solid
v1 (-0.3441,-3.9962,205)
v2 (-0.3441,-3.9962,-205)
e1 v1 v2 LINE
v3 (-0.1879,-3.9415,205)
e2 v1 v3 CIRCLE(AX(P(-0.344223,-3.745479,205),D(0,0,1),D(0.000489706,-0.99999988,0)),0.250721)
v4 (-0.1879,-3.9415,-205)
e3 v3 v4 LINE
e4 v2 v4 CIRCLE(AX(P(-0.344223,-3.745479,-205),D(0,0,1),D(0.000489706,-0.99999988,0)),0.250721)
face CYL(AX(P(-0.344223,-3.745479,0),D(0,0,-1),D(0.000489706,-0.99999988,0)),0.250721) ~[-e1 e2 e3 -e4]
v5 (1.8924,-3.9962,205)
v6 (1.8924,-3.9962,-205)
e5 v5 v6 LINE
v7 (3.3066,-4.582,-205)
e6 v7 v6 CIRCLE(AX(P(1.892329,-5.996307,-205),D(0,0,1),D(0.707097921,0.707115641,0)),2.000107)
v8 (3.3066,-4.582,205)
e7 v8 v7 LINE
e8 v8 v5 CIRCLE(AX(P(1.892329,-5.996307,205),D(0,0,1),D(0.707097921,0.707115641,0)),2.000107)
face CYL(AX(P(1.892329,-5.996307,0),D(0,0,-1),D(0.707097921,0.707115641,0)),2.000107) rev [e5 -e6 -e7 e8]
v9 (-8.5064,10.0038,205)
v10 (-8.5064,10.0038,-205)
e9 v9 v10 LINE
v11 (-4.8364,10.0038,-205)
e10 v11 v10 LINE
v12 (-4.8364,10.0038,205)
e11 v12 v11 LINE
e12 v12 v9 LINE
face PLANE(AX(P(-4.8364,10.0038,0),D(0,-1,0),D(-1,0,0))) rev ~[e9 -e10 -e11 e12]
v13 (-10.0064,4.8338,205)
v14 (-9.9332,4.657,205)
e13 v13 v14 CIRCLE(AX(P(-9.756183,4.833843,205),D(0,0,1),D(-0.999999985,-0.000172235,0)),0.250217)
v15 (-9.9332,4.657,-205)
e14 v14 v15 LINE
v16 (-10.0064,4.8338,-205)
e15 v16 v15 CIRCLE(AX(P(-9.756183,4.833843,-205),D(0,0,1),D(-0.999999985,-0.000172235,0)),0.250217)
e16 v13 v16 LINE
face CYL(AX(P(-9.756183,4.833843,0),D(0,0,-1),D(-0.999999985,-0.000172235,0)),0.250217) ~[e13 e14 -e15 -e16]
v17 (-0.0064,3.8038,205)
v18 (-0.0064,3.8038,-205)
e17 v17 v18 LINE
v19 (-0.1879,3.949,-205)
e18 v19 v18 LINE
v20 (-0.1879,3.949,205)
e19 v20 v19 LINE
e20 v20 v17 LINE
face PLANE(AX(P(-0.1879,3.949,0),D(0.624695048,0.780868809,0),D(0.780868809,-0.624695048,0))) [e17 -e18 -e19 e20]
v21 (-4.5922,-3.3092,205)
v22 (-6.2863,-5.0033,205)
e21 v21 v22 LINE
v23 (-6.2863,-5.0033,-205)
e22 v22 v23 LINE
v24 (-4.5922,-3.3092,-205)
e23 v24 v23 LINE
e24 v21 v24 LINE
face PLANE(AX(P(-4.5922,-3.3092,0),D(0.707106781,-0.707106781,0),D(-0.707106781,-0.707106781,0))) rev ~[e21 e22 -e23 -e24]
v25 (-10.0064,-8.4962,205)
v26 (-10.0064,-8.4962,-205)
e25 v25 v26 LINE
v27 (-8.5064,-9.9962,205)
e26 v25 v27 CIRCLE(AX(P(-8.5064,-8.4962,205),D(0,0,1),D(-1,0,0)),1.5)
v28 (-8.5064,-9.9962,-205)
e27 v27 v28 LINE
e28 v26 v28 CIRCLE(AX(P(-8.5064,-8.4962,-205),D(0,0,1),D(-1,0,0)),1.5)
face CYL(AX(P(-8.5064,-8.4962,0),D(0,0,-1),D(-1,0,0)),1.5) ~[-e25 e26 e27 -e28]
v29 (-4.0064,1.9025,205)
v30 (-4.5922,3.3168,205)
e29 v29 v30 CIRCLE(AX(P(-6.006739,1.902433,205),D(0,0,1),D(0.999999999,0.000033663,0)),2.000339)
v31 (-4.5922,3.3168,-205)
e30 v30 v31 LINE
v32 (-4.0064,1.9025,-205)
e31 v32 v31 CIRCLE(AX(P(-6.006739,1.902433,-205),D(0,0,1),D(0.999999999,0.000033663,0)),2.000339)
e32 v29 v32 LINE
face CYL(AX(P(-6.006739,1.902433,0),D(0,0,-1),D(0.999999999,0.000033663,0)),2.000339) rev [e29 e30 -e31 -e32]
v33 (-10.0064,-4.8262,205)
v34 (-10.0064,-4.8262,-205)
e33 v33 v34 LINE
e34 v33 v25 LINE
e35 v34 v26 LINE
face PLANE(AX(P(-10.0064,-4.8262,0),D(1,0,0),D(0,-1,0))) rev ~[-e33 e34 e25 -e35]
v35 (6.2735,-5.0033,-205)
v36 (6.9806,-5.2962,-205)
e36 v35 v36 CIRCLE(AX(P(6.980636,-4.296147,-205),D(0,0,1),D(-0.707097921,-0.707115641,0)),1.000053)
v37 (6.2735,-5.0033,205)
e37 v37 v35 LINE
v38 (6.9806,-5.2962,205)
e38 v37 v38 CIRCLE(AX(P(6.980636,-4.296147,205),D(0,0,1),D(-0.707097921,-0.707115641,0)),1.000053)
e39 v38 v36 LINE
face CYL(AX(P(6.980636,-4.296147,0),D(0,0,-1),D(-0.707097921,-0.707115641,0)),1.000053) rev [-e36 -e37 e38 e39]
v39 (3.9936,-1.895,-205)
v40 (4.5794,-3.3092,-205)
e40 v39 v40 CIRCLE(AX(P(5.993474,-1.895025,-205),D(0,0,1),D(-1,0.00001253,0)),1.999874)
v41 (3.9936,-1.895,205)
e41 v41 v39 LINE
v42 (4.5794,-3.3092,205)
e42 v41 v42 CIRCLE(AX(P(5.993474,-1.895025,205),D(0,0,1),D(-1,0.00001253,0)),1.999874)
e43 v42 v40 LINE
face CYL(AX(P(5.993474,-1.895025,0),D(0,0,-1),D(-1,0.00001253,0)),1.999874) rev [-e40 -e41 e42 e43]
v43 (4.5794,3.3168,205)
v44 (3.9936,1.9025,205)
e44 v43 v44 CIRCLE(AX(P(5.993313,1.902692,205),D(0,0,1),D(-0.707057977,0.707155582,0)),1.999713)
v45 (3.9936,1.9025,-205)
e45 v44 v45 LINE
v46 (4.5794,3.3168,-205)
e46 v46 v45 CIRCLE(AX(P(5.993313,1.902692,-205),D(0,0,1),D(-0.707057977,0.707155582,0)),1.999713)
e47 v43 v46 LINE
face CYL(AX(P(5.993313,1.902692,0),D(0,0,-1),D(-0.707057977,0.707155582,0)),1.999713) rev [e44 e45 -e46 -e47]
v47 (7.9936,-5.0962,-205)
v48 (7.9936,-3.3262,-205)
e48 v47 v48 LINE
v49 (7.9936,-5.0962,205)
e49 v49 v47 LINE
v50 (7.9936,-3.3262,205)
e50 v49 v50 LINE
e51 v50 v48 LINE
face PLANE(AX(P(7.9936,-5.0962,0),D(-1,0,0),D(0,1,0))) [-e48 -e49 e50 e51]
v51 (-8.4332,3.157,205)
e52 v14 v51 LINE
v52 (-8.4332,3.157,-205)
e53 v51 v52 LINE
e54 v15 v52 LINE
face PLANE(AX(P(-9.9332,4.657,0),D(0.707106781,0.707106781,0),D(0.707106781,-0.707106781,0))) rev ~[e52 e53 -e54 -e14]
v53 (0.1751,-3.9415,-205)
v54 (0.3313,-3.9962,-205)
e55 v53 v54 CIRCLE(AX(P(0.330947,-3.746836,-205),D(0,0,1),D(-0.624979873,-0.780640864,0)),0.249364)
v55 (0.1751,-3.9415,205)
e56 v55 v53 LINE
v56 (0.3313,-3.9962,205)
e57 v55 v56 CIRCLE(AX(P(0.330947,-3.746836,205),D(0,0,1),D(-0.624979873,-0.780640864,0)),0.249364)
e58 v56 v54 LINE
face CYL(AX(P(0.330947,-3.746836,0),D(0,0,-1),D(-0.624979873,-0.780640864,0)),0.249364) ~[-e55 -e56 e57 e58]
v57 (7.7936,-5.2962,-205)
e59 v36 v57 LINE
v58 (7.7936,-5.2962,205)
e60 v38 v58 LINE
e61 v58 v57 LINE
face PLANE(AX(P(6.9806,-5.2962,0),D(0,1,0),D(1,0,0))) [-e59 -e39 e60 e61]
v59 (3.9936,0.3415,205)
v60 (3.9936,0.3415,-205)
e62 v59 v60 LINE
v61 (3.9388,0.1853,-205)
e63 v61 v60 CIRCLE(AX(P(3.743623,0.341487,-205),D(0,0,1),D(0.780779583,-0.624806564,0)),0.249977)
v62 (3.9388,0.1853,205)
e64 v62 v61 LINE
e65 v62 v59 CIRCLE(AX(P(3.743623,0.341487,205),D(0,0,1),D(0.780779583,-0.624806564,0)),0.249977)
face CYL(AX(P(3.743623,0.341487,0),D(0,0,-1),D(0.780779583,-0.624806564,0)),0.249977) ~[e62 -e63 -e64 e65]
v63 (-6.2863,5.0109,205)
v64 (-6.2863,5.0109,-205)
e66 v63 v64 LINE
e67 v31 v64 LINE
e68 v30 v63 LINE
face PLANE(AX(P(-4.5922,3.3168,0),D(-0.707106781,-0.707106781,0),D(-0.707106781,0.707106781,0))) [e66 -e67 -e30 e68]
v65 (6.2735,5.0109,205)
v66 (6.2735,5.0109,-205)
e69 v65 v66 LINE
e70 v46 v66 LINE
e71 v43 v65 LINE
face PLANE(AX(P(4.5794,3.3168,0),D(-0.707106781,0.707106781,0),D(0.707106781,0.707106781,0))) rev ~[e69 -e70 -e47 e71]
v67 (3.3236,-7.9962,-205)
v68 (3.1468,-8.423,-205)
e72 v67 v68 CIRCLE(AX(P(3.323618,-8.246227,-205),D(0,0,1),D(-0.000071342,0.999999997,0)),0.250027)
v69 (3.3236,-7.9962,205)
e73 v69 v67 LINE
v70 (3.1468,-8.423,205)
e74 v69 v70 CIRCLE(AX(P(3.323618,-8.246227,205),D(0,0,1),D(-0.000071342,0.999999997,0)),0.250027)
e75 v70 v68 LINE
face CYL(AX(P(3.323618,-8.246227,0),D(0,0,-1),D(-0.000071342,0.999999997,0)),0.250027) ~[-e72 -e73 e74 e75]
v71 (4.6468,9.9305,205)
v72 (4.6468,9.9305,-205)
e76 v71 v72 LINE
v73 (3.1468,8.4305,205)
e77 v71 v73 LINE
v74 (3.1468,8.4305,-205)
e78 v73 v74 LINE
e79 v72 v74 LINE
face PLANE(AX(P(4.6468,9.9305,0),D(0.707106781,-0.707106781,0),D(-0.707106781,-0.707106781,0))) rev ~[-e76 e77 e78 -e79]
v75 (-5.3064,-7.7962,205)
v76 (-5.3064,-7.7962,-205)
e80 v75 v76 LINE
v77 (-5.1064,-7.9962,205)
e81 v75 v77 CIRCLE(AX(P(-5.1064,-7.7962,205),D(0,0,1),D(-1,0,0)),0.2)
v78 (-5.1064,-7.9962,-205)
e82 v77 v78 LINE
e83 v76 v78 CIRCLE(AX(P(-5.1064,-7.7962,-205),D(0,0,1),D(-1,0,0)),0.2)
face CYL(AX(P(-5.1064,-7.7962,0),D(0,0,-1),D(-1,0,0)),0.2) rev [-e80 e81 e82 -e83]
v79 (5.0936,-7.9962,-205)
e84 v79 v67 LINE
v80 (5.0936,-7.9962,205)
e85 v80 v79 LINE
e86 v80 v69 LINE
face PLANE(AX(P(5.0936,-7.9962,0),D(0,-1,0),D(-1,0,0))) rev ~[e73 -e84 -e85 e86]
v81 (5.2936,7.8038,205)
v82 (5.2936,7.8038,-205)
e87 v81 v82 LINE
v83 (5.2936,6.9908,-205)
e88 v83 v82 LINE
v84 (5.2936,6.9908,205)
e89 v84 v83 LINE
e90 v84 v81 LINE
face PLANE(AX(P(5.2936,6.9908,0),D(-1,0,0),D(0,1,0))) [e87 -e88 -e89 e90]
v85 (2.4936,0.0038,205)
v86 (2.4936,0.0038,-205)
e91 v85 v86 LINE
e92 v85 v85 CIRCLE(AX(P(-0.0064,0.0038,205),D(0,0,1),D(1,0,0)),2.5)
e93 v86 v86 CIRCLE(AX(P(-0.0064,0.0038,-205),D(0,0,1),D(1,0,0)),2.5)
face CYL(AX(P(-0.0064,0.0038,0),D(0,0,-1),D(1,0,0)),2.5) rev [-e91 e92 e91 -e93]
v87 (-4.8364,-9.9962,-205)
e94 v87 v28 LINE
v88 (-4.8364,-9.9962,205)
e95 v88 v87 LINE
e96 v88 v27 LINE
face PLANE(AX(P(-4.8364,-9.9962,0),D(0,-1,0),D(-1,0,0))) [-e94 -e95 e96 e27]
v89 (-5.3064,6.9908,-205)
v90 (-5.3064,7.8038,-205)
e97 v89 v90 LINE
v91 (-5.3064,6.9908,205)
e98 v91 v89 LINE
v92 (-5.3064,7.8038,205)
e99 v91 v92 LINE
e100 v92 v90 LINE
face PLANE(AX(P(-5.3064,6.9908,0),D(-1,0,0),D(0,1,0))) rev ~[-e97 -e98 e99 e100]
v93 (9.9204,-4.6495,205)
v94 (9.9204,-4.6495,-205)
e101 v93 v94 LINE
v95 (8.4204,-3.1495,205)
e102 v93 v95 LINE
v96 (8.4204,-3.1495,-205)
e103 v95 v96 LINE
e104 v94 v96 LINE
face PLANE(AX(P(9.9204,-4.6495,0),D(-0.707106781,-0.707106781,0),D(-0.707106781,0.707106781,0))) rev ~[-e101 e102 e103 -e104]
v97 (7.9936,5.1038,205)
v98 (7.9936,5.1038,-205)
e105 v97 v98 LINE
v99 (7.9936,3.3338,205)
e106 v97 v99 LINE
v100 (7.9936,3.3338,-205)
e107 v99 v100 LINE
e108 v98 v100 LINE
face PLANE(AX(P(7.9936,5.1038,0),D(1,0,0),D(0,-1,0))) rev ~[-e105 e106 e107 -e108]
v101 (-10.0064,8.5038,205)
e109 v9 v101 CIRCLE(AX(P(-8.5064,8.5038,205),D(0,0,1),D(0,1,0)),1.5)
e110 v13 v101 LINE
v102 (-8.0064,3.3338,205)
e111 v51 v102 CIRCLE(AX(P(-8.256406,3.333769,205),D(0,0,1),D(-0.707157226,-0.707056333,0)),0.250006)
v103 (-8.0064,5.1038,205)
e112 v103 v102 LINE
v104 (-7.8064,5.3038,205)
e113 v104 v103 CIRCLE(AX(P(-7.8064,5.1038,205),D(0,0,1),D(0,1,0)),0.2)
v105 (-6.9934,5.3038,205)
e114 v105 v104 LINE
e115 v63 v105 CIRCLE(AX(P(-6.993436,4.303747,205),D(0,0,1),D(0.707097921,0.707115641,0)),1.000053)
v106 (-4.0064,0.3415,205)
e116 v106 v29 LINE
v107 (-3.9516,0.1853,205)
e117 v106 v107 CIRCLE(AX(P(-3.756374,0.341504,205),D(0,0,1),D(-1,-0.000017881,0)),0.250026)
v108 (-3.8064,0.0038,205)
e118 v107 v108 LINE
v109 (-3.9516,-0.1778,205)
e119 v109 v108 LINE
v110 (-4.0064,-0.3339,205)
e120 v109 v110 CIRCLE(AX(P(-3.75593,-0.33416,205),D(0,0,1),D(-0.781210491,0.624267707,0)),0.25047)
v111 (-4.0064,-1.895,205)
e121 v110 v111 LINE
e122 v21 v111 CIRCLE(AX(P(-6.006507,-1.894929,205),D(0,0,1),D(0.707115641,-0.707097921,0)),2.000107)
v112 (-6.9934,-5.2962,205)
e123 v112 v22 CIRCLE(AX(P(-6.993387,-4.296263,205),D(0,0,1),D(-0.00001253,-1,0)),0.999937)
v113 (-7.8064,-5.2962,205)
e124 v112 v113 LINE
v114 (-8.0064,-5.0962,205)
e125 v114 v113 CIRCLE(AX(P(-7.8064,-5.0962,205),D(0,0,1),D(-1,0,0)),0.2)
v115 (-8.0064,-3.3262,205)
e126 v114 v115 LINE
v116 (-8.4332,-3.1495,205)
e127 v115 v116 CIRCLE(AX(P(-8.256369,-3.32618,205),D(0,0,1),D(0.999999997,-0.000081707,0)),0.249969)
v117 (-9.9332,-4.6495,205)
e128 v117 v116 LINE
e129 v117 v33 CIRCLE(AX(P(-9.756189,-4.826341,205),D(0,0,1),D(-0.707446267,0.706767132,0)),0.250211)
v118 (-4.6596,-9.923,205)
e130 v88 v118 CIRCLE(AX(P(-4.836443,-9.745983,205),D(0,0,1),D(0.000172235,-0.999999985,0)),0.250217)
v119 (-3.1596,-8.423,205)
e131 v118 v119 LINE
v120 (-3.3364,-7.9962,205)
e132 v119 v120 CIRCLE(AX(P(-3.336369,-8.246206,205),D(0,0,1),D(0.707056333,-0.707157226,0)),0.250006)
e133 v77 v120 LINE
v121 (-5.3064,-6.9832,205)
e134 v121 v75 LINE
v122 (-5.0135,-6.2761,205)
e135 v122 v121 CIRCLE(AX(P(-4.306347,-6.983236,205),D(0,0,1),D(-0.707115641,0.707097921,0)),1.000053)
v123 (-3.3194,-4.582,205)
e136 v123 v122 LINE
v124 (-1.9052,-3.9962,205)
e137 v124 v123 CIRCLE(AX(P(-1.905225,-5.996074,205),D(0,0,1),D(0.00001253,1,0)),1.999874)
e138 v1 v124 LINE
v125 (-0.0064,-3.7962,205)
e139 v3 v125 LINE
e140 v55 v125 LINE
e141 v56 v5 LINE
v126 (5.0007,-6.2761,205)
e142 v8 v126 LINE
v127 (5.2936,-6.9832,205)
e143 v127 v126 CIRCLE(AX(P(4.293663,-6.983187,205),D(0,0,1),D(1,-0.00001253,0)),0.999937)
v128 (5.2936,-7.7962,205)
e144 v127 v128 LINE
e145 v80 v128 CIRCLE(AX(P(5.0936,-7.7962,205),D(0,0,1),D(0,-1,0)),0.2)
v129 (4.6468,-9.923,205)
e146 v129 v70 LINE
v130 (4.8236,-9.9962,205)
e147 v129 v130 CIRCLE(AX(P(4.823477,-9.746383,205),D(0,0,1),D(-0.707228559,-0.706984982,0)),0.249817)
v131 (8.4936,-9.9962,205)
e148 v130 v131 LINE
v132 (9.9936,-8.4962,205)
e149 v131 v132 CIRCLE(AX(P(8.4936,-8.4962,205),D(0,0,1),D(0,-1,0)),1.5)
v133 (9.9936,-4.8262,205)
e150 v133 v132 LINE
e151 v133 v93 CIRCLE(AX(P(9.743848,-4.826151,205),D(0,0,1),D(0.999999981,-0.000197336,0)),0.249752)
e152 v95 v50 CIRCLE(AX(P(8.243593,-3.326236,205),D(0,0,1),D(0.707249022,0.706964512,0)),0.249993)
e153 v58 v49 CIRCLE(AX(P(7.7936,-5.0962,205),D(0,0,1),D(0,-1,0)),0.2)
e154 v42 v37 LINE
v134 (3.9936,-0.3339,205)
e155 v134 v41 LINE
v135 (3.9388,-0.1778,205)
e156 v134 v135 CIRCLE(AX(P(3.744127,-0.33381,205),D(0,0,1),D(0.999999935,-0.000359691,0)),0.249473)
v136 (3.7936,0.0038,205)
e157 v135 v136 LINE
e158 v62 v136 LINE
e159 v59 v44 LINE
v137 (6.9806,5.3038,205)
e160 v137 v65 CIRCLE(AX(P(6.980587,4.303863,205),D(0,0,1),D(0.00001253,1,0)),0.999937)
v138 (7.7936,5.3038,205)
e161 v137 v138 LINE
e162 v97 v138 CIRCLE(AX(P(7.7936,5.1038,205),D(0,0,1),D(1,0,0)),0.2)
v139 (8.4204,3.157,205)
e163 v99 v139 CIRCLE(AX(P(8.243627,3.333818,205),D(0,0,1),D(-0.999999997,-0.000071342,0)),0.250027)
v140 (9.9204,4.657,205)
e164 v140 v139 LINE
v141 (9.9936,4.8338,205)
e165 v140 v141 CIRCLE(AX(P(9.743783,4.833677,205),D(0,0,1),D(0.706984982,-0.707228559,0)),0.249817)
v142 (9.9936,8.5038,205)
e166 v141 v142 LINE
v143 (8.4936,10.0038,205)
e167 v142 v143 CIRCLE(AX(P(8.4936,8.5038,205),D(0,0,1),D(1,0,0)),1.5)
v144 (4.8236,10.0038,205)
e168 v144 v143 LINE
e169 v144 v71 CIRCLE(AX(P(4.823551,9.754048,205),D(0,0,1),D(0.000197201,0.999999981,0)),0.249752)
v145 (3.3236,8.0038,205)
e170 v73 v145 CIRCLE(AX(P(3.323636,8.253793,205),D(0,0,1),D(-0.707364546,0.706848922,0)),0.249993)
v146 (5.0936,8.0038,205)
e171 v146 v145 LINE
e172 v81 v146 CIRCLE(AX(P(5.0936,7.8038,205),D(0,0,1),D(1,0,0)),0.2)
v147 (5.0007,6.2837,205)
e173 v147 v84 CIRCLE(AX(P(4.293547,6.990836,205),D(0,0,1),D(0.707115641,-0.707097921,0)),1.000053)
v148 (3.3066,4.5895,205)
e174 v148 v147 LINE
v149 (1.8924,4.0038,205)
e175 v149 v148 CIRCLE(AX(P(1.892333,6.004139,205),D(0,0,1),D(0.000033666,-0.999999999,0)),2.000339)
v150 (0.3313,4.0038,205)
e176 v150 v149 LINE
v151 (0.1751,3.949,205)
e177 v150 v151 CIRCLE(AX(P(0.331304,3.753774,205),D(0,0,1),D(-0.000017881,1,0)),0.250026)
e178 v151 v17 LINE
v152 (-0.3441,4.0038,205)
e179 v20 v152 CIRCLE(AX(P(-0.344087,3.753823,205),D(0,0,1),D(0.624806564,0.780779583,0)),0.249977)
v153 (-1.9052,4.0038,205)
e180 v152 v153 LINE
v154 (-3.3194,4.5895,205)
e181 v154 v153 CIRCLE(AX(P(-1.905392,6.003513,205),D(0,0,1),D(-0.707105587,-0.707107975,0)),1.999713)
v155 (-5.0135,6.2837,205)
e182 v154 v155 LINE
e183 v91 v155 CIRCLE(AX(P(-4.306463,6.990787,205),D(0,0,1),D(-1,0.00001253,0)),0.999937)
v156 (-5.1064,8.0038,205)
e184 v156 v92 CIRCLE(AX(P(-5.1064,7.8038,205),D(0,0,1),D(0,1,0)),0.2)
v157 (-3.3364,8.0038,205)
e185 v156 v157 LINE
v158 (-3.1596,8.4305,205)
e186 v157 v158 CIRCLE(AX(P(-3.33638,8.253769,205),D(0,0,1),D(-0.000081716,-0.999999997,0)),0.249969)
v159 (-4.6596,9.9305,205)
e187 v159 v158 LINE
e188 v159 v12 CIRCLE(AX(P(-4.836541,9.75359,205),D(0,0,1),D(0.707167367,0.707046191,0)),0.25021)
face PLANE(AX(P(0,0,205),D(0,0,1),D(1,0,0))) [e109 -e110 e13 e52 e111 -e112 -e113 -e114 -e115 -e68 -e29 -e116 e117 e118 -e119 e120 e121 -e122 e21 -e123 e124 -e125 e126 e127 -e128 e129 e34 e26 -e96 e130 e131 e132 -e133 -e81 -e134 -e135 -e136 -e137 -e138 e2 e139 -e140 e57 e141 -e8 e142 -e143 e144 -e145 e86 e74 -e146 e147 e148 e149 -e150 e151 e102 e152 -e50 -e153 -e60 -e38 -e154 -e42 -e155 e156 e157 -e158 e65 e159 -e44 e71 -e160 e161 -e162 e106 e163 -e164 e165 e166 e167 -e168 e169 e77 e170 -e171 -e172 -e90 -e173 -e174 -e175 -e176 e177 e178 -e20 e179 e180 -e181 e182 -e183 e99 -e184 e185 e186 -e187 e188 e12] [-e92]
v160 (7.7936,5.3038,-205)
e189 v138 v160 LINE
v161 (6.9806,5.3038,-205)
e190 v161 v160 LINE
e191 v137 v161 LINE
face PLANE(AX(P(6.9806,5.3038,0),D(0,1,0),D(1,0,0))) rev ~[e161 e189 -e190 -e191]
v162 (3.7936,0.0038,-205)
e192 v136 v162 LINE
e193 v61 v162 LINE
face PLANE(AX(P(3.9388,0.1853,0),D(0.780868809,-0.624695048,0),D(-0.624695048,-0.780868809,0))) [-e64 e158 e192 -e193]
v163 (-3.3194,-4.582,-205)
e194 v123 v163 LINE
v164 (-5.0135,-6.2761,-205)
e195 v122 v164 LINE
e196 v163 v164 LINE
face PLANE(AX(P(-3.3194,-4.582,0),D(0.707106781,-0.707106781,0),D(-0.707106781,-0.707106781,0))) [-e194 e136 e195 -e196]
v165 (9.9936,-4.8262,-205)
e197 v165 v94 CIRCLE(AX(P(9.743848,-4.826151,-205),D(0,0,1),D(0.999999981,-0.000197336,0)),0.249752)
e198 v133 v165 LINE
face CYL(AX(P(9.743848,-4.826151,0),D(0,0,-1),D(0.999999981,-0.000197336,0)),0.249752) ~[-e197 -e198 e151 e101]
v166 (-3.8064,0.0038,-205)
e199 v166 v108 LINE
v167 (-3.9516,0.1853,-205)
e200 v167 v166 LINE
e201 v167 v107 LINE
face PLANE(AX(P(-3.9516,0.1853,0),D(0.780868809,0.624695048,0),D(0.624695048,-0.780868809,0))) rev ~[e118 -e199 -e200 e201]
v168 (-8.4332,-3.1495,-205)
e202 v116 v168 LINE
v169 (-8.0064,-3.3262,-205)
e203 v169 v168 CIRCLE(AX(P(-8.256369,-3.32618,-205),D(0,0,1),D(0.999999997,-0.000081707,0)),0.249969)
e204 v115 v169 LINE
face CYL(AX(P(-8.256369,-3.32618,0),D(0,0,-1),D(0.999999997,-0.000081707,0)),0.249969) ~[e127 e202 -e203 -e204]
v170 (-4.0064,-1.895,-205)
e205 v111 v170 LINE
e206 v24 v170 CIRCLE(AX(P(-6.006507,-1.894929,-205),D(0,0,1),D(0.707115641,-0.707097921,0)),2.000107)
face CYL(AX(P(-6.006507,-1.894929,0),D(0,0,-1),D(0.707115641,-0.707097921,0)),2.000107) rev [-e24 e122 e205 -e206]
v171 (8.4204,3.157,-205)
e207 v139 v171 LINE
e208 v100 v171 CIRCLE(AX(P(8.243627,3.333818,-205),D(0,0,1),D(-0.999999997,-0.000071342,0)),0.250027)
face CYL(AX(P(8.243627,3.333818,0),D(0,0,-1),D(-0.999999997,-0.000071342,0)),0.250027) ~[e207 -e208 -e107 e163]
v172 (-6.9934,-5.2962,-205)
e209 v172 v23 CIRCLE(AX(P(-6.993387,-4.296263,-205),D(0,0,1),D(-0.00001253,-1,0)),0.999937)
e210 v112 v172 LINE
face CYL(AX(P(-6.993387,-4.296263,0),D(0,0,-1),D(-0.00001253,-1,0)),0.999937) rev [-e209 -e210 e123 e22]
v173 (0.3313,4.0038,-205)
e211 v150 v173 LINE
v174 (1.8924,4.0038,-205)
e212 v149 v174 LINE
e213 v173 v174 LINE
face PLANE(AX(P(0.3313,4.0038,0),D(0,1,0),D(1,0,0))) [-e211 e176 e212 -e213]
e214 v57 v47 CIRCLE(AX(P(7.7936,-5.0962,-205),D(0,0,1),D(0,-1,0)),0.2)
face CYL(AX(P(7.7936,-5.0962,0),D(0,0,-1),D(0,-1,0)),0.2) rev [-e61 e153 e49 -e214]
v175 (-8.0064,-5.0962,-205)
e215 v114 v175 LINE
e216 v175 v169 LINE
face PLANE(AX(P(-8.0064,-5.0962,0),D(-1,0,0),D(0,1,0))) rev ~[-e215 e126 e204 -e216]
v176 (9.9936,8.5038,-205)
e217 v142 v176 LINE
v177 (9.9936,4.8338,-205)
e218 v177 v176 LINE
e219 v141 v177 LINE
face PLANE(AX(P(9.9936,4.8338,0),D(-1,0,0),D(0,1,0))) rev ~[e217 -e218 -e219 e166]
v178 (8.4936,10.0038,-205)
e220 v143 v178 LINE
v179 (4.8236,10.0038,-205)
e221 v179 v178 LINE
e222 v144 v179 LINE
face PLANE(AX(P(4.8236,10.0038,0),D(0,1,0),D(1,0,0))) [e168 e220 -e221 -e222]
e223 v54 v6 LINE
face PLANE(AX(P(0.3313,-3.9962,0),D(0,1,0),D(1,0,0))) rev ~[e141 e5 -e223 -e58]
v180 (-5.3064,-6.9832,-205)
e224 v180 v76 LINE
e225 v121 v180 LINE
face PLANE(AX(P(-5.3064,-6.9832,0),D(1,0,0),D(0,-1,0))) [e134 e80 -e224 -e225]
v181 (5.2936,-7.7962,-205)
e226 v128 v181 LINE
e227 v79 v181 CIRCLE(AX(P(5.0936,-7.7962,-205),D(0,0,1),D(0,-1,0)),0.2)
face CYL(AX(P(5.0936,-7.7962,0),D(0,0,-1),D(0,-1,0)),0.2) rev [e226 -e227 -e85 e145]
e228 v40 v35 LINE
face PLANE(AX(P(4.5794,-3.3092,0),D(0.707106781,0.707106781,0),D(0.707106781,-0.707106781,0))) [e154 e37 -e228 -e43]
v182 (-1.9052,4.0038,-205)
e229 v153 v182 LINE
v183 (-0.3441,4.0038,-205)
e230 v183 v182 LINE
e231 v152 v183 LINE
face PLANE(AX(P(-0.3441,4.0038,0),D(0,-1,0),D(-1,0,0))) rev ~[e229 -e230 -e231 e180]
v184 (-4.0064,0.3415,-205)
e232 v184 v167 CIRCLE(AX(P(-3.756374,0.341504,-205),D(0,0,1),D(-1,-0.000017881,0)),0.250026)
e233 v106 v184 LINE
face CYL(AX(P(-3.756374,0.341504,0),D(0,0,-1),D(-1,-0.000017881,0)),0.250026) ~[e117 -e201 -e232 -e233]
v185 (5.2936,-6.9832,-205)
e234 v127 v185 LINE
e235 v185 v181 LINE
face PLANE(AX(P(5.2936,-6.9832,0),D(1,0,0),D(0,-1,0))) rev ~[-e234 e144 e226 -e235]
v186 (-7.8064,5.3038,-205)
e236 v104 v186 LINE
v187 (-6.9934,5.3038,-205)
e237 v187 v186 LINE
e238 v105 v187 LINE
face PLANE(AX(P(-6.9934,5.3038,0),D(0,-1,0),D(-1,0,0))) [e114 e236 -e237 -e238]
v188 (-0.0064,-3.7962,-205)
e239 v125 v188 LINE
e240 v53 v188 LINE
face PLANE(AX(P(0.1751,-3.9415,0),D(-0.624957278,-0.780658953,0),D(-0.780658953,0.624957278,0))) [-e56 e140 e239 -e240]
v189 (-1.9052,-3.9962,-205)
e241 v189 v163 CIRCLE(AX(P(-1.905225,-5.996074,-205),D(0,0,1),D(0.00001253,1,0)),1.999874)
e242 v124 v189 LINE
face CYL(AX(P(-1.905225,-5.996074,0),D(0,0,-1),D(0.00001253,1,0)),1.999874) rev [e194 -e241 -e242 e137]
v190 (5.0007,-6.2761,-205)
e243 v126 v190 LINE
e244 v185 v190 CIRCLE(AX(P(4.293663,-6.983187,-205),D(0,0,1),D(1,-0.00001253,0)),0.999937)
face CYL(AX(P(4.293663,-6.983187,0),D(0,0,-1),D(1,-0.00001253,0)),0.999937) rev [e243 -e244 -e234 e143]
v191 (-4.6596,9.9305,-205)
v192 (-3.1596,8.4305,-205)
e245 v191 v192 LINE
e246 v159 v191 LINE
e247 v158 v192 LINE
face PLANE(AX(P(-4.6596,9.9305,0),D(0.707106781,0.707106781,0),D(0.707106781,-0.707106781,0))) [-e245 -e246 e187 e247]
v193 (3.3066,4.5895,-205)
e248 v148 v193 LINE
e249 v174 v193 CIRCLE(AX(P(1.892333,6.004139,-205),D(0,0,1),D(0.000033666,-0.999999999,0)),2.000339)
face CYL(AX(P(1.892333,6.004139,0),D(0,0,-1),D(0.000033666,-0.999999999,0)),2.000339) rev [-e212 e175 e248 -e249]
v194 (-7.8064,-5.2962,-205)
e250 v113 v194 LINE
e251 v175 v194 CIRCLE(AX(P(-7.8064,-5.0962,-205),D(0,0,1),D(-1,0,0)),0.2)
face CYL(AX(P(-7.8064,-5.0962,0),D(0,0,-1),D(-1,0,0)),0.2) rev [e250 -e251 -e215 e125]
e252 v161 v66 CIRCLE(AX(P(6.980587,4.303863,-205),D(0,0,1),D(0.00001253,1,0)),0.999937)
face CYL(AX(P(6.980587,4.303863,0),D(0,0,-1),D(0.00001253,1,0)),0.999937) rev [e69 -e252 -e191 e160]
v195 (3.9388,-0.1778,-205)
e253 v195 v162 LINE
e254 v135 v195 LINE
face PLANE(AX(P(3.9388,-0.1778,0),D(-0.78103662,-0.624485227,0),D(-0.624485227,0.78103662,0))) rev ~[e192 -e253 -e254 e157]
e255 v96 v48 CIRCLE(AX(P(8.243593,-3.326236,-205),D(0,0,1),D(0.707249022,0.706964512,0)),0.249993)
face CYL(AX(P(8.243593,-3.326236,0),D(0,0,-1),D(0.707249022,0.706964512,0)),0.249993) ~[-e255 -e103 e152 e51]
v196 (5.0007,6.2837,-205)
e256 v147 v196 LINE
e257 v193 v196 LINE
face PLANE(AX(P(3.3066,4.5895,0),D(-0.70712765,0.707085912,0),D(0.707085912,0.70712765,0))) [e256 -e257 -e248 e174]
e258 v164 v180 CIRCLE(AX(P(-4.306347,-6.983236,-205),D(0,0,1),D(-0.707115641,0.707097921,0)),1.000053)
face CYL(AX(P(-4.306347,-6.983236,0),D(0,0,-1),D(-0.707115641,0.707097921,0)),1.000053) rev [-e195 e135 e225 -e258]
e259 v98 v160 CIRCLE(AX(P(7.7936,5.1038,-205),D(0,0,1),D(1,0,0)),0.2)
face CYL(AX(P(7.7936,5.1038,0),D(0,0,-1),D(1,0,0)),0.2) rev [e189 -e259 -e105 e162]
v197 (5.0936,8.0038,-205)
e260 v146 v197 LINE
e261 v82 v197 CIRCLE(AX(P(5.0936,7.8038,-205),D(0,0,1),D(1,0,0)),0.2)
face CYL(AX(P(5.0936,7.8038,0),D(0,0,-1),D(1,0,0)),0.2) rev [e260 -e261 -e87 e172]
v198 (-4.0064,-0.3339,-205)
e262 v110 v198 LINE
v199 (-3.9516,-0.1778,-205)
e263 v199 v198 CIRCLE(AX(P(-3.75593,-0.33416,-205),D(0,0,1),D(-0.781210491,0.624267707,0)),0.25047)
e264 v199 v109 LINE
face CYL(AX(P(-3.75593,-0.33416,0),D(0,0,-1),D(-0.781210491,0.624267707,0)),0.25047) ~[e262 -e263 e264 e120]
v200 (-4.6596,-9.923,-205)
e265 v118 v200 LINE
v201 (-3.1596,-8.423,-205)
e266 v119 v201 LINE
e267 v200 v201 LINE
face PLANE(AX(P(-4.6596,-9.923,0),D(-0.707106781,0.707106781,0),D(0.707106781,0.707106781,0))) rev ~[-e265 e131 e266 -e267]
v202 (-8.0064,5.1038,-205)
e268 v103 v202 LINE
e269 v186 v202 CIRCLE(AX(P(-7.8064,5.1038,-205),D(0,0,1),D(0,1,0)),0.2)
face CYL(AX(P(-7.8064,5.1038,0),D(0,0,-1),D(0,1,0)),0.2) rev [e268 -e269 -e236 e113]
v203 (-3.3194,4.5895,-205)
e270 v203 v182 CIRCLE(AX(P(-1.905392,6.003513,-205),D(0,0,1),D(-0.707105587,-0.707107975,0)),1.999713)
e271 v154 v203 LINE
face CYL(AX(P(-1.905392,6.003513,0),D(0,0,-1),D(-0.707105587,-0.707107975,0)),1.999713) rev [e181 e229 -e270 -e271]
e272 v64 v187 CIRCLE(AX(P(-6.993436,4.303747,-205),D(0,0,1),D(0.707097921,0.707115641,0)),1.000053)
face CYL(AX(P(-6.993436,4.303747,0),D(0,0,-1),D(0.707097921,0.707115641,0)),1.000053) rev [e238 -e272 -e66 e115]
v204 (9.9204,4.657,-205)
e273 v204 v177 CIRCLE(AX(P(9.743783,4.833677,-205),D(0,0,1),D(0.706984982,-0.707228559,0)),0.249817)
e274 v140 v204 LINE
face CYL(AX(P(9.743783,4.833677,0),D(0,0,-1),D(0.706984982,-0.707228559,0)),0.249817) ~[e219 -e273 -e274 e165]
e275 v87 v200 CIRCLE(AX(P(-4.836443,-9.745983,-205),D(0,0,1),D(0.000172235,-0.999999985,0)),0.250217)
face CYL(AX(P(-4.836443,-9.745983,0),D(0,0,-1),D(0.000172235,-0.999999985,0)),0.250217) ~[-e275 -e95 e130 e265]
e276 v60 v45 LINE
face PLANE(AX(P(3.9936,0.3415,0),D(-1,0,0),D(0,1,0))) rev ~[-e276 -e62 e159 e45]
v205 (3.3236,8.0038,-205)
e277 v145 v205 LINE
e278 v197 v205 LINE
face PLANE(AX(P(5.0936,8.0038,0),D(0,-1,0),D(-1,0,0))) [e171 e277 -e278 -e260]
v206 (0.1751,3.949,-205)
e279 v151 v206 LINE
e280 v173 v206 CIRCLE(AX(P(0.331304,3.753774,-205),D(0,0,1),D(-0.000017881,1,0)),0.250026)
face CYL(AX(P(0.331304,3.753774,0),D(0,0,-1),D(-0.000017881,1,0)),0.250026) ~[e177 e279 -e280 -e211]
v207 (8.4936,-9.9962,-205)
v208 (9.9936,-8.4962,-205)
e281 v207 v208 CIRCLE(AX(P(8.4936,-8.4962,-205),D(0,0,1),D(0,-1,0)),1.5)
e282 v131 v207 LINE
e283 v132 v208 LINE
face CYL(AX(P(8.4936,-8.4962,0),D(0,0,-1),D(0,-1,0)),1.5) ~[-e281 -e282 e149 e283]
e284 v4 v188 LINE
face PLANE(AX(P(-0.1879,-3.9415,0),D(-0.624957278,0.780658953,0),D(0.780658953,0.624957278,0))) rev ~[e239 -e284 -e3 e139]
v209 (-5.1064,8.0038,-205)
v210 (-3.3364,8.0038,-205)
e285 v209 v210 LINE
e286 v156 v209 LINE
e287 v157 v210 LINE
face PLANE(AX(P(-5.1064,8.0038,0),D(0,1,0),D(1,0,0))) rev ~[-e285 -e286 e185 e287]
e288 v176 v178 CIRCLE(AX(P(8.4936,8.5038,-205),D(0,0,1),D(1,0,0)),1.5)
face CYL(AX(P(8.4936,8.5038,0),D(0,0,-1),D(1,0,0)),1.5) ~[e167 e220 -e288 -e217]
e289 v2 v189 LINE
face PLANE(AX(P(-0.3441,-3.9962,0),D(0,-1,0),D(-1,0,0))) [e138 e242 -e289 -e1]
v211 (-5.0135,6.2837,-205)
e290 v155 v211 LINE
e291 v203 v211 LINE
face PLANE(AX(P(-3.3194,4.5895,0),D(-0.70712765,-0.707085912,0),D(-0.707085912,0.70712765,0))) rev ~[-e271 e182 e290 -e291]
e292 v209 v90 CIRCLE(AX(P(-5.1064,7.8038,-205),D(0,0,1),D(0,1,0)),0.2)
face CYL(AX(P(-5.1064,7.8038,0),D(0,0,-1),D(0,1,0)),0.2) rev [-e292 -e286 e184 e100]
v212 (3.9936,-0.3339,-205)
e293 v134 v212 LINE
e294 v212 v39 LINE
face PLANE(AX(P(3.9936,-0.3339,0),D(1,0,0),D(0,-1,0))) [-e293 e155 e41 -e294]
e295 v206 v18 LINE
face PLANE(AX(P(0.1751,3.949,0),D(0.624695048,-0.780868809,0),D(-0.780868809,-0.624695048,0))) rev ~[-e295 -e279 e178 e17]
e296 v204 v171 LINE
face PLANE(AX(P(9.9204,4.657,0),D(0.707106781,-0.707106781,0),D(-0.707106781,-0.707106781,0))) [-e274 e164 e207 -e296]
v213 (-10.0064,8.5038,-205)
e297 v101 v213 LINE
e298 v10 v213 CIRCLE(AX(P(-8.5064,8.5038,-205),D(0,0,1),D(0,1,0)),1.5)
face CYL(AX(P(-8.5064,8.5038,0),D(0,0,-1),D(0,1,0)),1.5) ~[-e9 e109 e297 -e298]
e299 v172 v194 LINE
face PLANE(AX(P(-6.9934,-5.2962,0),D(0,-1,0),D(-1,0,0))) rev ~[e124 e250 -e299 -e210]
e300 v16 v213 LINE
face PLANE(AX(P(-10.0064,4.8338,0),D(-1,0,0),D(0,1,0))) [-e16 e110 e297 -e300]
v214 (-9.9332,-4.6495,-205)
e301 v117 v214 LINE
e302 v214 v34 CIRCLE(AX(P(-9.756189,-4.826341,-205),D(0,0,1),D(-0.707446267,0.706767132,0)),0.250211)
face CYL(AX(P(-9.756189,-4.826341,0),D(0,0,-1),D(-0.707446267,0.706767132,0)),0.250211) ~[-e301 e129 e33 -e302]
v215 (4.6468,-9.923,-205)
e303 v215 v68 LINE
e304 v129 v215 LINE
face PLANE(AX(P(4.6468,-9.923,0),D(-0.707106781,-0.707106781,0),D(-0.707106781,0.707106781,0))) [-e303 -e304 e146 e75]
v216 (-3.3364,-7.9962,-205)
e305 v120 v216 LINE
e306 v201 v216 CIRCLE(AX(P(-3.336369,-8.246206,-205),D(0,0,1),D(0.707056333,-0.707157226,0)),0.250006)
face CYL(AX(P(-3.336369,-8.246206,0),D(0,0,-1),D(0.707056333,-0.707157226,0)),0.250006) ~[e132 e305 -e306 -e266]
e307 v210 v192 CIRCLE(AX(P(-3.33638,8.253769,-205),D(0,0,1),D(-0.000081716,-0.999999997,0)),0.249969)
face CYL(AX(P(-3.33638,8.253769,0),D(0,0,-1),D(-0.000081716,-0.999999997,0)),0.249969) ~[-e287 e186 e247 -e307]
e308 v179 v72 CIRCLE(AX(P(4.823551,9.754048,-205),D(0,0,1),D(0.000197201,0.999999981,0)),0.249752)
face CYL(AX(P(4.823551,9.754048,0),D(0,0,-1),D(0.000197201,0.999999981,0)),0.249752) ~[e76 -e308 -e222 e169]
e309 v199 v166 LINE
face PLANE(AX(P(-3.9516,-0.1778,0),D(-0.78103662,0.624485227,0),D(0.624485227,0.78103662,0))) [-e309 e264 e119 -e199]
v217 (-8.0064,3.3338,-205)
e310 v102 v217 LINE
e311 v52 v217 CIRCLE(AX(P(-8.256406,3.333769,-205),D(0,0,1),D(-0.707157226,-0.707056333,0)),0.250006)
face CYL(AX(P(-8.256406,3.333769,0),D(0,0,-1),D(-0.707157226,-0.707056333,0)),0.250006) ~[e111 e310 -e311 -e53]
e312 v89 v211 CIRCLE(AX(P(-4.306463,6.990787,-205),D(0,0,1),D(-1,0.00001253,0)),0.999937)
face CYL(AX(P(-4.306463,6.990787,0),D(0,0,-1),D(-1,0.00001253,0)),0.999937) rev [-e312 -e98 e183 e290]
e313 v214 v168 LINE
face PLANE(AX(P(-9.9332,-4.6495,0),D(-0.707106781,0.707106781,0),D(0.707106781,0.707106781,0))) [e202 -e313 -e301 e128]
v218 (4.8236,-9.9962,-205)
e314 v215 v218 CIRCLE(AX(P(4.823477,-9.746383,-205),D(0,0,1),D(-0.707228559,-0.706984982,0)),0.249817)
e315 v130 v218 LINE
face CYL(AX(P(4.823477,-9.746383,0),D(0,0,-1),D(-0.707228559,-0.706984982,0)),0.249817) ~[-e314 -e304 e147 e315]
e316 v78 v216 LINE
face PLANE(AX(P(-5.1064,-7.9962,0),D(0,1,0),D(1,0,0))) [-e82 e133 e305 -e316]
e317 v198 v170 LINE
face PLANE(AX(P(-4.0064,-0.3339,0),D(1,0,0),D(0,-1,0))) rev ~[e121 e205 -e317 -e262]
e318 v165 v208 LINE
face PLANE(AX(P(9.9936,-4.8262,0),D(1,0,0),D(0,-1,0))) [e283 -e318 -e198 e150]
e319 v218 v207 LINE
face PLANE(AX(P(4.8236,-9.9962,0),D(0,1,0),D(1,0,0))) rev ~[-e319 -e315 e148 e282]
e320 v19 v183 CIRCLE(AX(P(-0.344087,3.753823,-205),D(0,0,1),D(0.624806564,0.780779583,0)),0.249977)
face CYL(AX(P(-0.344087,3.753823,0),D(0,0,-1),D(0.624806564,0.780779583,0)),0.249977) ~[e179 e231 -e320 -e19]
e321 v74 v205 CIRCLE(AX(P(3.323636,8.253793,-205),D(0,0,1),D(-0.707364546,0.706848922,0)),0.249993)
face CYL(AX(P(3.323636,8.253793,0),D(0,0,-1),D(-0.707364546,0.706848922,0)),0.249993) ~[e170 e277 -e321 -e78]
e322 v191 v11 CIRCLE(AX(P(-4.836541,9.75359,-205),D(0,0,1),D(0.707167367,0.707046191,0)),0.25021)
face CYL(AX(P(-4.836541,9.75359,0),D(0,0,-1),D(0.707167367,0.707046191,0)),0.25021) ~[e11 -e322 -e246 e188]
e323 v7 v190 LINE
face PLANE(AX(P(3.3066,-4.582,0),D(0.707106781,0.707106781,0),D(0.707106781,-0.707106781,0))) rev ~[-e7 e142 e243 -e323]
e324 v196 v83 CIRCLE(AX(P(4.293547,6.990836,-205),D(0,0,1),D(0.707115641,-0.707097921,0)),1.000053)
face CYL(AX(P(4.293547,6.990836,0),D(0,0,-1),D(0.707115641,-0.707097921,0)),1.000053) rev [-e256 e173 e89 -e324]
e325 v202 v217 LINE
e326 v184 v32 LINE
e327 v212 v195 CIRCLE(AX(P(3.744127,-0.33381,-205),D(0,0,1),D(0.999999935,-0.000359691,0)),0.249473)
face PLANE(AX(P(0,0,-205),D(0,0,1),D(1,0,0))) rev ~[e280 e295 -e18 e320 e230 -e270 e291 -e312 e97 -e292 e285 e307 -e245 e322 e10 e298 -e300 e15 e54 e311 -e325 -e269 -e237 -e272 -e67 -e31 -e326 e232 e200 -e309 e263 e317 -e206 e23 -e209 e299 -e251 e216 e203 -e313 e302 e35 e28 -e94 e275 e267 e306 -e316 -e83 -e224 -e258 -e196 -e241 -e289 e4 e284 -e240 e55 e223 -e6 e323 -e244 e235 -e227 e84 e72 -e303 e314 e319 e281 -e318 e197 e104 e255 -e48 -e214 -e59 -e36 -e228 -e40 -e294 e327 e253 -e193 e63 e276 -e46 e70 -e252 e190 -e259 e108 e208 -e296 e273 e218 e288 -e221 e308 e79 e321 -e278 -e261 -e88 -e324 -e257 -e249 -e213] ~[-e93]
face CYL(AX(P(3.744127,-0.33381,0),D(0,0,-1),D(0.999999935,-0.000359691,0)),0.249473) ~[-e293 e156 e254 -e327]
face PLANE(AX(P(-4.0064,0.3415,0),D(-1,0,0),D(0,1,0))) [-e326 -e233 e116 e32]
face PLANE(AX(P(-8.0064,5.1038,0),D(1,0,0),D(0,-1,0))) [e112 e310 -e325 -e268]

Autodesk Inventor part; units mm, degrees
ref_plane "YZ Plane" through (0, 0, 0) normal (1, 0, 0) x (0, 1, 0)
ref_plane "XZ Plane" through (0, 0, 0) normal (0, 1, 0) x (-1, 0, 0)
ref_plane "XY Plane" through (0, 0, 0) normal (0, 0, 1) x (1, 0, 0)
sketch "Эскиз1" plane through (0, 0, 0) normal (0, 0, 1) x (1, 0, 0)
  line L0 (-3.9516, 0.1853) -> (-3.8064, 0.0038)
  line L1 (-3.9516, -0.1778) -> (-3.8064, 0.0038)
  arc A0 (-3.9516, -0.1778) -> (-4.0064, -0.3339) centre (-3.7564, -0.3339) ccw
  line L2 (-4.0064, -0.3339) -> (-4.0064, -1.895)
  arc A1 (-4.5922, -3.3092) -> (-4.0064, -1.895) centre (-6.0064, -1.895) ccw
  line L3 (-4.5922, -3.3092) -> (-6.2863, -5.0033)
  arc A2 (-6.9934, -5.2962) -> (-6.2863, -5.0033) centre (-6.9934, -4.2962) ccw
  line L4 (-6.9934, -5.2962) -> (-7.8064, -5.2962)
  arc A3 (-8.0064, -5.0962) -> (-7.8064, -5.2962) centre (-7.8064, -5.0962) ccw
  line L5 (-8.0064, -5.0962) -> (-8.0064, -3.3262)
  arc A4 (-8.0064, -3.3262) -> (-8.4332, -3.1495) centre (-8.2564, -3.3262) ccw
  line L6 (-9.9332, -4.6495) -> (-8.4332, -3.1495)
  arc A5 (-9.9332, -4.6495) -> (-10.0064, -4.8262) centre (-9.7564, -4.8262) ccw
  line L7 (-10.0064, -4.8262) -> (-10.0064, -8.4962)
  arc A6 (-10.0064, -8.4962) -> (-8.5064, -9.9962) centre (-8.5064, -8.4962) ccw
  line L8 (-4.8364, -9.9962) -> (-8.5064, -9.9962)
  arc A7 (-4.8364, -9.9962) -> (-4.6596, -9.923) centre (-4.8364, -9.7462) ccw
  line L9 (-4.6596, -9.923) -> (-3.1596, -8.423)
  arc A8 (-3.1596, -8.423) -> (-3.3364, -7.9962) centre (-3.3364, -8.2462) ccw
  line L10 (-5.1064, -7.9962) -> (-3.3364, -7.9962)
  arc A9 (-5.3064, -7.7962) -> (-5.1064, -7.9962) centre (-5.1064, -7.7962) ccw
  line L11 (-5.3064, -6.9832) -> (-5.3064, -7.7962)
  arc A10 (-5.0135, -6.2761) -> (-5.3064, -6.9832) centre (-4.3064, -6.9832) ccw
  line L12 (-3.3194, -4.582) -> (-5.0135, -6.2761)
  arc A11 (-1.9052, -3.9962) -> (-3.3194, -4.582) centre (-1.9052, -5.9962) ccw
  line L13 (-0.3441, -3.9962) -> (-1.9052, -3.9962)
  arc A12 (-0.3441, -3.9962) -> (-0.1879, -3.9415) centre (-0.3441, -3.7462) ccw
  line L14 (-0.1879, -3.9415) -> (-0.0064, -3.7962)
  line L15 (0.1751, -3.9415) -> (-0.0064, -3.7962)
  arc A13 (0.1751, -3.9415) -> (0.3313, -3.9962) centre (0.3313, -3.7462) ccw
  line L16 (0.3313, -3.9962) -> (1.8924, -3.9962)
  arc A14 (3.3066, -4.582) -> (1.8924, -3.9962) centre (1.8924, -5.9962) ccw
  line L17 (3.3066, -4.582) -> (5.0007, -6.2761)
  arc A15 (5.2936, -6.9832) -> (5.0007, -6.2761) centre (4.2936, -6.9832) ccw
  line L18 (5.2936, -6.9832) -> (5.2936, -7.7962)
  arc A16 (5.0936, -7.9962) -> (5.2936, -7.7962) centre (5.0936, -7.7962) ccw
  line L19 (5.0936, -7.9962) -> (3.3236, -7.9962)
  arc A17 (3.3236, -7.9962) -> (3.1468, -8.423) centre (3.3236, -8.2462) ccw
  line L20 (4.6468, -9.923) -> (3.1468, -8.423)
  arc A18 (4.6468, -9.923) -> (4.8236, -9.9962) centre (4.8236, -9.7462) ccw
  line L21 (4.8236, -9.9962) -> (8.4936, -9.9962)
  arc A19 (8.4936, -9.9962) -> (9.9936, -8.4962) centre (8.4936, -8.4962) ccw
  line L22 (9.9936, -4.8262) -> (9.9936, -8.4962)
  arc A20 (9.9936, -4.8262) -> (9.9204, -4.6495) centre (9.7436, -4.8262) ccw
  line L23 (9.9204, -4.6495) -> (8.4204, -3.1495)
  arc A21 (8.4204, -3.1495) -> (7.9936, -3.3262) centre (8.2436, -3.3262) ccw
  line L24 (7.9936, -5.0962) -> (7.9936, -3.3262)
  arc A22 (7.7936, -5.2962) -> (7.9936, -5.0962) centre (7.7936, -5.0962) ccw
  line L25 (6.9806, -5.2962) -> (7.7936, -5.2962)
  arc A23 (6.2735, -5.0033) -> (6.9806, -5.2962) centre (6.9806, -4.2962) ccw
  line L26 (4.5794, -3.3092) -> (6.2735, -5.0033)
  arc A24 (3.9936, -1.895) -> (4.5794, -3.3092) centre (5.9936, -1.895) ccw
  line L27 (3.9936, -0.3339) -> (3.9936, -1.895)
  arc A25 (3.9936, -0.3339) -> (3.9388, -0.1778) centre (3.7436, -0.3339) ccw
  line L28 (3.9388, -0.1778) -> (3.7936, 0.0038)
  line L29 (3.9388, 0.1853) -> (3.7936, 0.0038)
  arc A26 (3.9388, 0.1853) -> (3.9936, 0.3415) centre (3.7436, 0.3415) ccw
  line L30 (3.9936, 0.3415) -> (3.9936, 1.9025)
  arc A27 (4.5794, 3.3168) -> (3.9936, 1.9025) centre (5.9936, 1.9025) ccw
  line L31 (4.5794, 3.3168) -> (6.2735, 5.0109)
  arc A28 (6.9806, 5.3038) -> (6.2735, 5.0109) centre (6.9806, 4.3038) ccw
  line L32 (6.9806, 5.3038) -> (7.7936, 5.3038)
  arc A29 (7.9936, 5.1038) -> (7.7936, 5.3038) centre (7.7936, 5.1038) ccw
  line L33 (7.9936, 5.1038) -> (7.9936, 3.3338)
  arc A30 (7.9936, 3.3338) -> (8.4204, 3.157) centre (8.2436, 3.3338) ccw
  line L34 (9.9204, 4.657) -> (8.4204, 3.157)
  arc A31 (9.9204, 4.657) -> (9.9936, 4.8338) centre (9.7436, 4.8338) ccw
  line L35 (9.9936, 4.8338) -> (9.9936, 8.5038)
  arc A32 (9.9936, 8.5038) -> (8.4936, 10.0038) centre (8.4936, 8.5038) ccw
  line L36 (4.8236, 10.0038) -> (8.4936, 10.0038)
  arc A33 (4.8236, 10.0038) -> (4.6468, 9.9305) centre (4.8236, 9.7538) ccw
  line L37 (4.6468, 9.9305) -> (3.1468, 8.4305)
  arc A34 (3.1468, 8.4305) -> (3.3236, 8.0038) centre (3.3236, 8.2538) ccw
  line L38 (5.0936, 8.0038) -> (3.3236, 8.0038)
  arc A35 (5.2936, 7.8038) -> (5.0936, 8.0038) centre (5.0936, 7.8038) ccw
  line L39 (5.2936, 6.9908) -> (5.2936, 7.8038)
  arc A36 (5.0007, 6.2837) -> (5.2936, 6.9908) centre (4.2936, 6.9908) ccw
  line L40 (3.3066, 4.5895) -> (5.0007, 6.2837)
  arc A37 (1.8924, 4.0038) -> (3.3066, 4.5895) centre (1.8924, 6.0038) ccw
  line L41 (0.3313, 4.0038) -> (1.8924, 4.0038)
  arc A38 (0.3313, 4.0038) -> (0.1751, 3.949) centre (0.3313, 3.7538) ccw
  line L42 (0.1751, 3.949) -> (-0.0064, 3.8038)
  line L43 (-0.1879, 3.949) -> (-0.0064, 3.8038)
  arc A39 (-0.1879, 3.949) -> (-0.3441, 4.0038) centre (-0.3441, 3.7538) ccw
  line L44 (-0.3441, 4.0038) -> (-1.9052, 4.0038)
  arc A40 (-3.3194, 4.5895) -> (-1.9052, 4.0038) centre (-1.9052, 6.0038) ccw
  line L45 (-3.3194, 4.5895) -> (-5.0135, 6.2837)
  arc A41 (-5.3064, 6.9908) -> (-5.0135, 6.2837) centre (-4.3064, 6.9908) ccw
  line L46 (-5.3064, 6.9908) -> (-5.3064, 7.8038)
  arc A42 (-5.1064, 8.0038) -> (-5.3064, 7.8038) centre (-5.1064, 7.8038) ccw
  line L47 (-5.1064, 8.0038) -> (-3.3364, 8.0038)
  arc A43 (-3.3364, 8.0038) -> (-3.1596, 8.4305) centre (-3.3364, 8.2538) ccw
  line L48 (-4.6596, 9.9305) -> (-3.1596, 8.4305)
  arc A44 (-4.6596, 9.9305) -> (-4.8364, 10.0038) centre (-4.8364, 9.7538) ccw
  line L49 (-4.8364, 10.0038) -> (-8.5064, 10.0038)
  arc A45 (-8.5064, 10.0038) -> (-10.0064, 8.5038) centre (-8.5064, 8.5038) ccw
  line L50 (-10.0064, 4.8338) -> (-10.0064, 8.5038)
  arc A46 (-10.0064, 4.8338) -> (-9.9332, 4.657) centre (-9.7564, 4.8338) ccw
  line L51 (-9.9332, 4.657) -> (-8.4332, 3.157)
  arc A47 (-8.4332, 3.157) -> (-8.0064, 3.3338) centre (-8.2564, 3.3338) ccw
  line L52 (-8.0064, 5.1038) -> (-8.0064, 3.3338)
  arc A48 (-7.8064, 5.3038) -> (-8.0064, 5.1038) centre (-7.8064, 5.1038) ccw
  line L53 (-6.9934, 5.3038) -> (-7.8064, 5.3038)
  arc A49 (-6.2863, 5.0109) -> (-6.9934, 5.3038) centre (-6.9934, 4.3038) ccw
  line L54 (-4.5922, 3.3168) -> (-6.2863, 5.0109)
  arc A50 (-4.0064, 1.9025) -> (-4.5922, 3.3168) centre (-6.0064, 1.9025) ccw
  line L55 (-4.0064, 0.3415) -> (-4.0064, 1.9025)
  arc A51 (-4.0064, 0.3415) -> (-3.9516, 0.1853) centre (-3.7564, 0.3415) ccw
  circle A52 centre (-0.0064, 0.0038) radius 2.5
  point P0 (0, 0)
  point P1 (-0.0064, 0.0038)
  dimension "d0" = 0.25
  dimension "d1" = 1.5
  dimension "d2" = 0.2
  dimension "d3" = 1
  dimension "d4" = 2
  dimension "d5" = 5
  dimension "d6" = 135
  dimension "d7" = 38.66
  dimension "d8" = 38.66
  dimension "d9" = 45
  dimension "d10" = 2
  dimension "d11" = 4.7
  dimension "d12" = 14
  dimension "d13" = 15.3
  dimension "d14" = 20
  dimension "d15" = 2.829
  dimension "d16" = 4.629
  dimension "d17" = 7.4579
  dimension "d18" = 2.829
  dimension "d19" = 4.629
  dimension "d20" = 7.4579
  dimension "d21" = 10.6
  dimension "d22" = 4.7
  dimension "d23" = 15.3
  dimension "d24" = 2.7
  dimension "d25" = 13.3
  dimension "d26" = 5.9346
  dimension "d27" = 5.9346
  dimension "d28" = 5.9346
  dimension "d29" = 5.9346
  dimension "d30" = 9.9936
  dimension "d31" = 3.7218
  dimension "d32" = 3.7271
  dimension "d33" = 5.3038
  dimension "d34" = 2.96
  dimension "d35" = 2.9647
  dimension "d36" = 2.9742
  dimension "d37" = 2.9684
  dimension "d38" = 8.0064
  dimension "d39" = 10
  dimension "d40" = 3.729
  dimension "d41" = 10
  dimension "d42" = 3.729
extrude "Выдавливание1" add sketch "Эскиз1" along normal mid plane 410
properties part number "AP20x20x500"
